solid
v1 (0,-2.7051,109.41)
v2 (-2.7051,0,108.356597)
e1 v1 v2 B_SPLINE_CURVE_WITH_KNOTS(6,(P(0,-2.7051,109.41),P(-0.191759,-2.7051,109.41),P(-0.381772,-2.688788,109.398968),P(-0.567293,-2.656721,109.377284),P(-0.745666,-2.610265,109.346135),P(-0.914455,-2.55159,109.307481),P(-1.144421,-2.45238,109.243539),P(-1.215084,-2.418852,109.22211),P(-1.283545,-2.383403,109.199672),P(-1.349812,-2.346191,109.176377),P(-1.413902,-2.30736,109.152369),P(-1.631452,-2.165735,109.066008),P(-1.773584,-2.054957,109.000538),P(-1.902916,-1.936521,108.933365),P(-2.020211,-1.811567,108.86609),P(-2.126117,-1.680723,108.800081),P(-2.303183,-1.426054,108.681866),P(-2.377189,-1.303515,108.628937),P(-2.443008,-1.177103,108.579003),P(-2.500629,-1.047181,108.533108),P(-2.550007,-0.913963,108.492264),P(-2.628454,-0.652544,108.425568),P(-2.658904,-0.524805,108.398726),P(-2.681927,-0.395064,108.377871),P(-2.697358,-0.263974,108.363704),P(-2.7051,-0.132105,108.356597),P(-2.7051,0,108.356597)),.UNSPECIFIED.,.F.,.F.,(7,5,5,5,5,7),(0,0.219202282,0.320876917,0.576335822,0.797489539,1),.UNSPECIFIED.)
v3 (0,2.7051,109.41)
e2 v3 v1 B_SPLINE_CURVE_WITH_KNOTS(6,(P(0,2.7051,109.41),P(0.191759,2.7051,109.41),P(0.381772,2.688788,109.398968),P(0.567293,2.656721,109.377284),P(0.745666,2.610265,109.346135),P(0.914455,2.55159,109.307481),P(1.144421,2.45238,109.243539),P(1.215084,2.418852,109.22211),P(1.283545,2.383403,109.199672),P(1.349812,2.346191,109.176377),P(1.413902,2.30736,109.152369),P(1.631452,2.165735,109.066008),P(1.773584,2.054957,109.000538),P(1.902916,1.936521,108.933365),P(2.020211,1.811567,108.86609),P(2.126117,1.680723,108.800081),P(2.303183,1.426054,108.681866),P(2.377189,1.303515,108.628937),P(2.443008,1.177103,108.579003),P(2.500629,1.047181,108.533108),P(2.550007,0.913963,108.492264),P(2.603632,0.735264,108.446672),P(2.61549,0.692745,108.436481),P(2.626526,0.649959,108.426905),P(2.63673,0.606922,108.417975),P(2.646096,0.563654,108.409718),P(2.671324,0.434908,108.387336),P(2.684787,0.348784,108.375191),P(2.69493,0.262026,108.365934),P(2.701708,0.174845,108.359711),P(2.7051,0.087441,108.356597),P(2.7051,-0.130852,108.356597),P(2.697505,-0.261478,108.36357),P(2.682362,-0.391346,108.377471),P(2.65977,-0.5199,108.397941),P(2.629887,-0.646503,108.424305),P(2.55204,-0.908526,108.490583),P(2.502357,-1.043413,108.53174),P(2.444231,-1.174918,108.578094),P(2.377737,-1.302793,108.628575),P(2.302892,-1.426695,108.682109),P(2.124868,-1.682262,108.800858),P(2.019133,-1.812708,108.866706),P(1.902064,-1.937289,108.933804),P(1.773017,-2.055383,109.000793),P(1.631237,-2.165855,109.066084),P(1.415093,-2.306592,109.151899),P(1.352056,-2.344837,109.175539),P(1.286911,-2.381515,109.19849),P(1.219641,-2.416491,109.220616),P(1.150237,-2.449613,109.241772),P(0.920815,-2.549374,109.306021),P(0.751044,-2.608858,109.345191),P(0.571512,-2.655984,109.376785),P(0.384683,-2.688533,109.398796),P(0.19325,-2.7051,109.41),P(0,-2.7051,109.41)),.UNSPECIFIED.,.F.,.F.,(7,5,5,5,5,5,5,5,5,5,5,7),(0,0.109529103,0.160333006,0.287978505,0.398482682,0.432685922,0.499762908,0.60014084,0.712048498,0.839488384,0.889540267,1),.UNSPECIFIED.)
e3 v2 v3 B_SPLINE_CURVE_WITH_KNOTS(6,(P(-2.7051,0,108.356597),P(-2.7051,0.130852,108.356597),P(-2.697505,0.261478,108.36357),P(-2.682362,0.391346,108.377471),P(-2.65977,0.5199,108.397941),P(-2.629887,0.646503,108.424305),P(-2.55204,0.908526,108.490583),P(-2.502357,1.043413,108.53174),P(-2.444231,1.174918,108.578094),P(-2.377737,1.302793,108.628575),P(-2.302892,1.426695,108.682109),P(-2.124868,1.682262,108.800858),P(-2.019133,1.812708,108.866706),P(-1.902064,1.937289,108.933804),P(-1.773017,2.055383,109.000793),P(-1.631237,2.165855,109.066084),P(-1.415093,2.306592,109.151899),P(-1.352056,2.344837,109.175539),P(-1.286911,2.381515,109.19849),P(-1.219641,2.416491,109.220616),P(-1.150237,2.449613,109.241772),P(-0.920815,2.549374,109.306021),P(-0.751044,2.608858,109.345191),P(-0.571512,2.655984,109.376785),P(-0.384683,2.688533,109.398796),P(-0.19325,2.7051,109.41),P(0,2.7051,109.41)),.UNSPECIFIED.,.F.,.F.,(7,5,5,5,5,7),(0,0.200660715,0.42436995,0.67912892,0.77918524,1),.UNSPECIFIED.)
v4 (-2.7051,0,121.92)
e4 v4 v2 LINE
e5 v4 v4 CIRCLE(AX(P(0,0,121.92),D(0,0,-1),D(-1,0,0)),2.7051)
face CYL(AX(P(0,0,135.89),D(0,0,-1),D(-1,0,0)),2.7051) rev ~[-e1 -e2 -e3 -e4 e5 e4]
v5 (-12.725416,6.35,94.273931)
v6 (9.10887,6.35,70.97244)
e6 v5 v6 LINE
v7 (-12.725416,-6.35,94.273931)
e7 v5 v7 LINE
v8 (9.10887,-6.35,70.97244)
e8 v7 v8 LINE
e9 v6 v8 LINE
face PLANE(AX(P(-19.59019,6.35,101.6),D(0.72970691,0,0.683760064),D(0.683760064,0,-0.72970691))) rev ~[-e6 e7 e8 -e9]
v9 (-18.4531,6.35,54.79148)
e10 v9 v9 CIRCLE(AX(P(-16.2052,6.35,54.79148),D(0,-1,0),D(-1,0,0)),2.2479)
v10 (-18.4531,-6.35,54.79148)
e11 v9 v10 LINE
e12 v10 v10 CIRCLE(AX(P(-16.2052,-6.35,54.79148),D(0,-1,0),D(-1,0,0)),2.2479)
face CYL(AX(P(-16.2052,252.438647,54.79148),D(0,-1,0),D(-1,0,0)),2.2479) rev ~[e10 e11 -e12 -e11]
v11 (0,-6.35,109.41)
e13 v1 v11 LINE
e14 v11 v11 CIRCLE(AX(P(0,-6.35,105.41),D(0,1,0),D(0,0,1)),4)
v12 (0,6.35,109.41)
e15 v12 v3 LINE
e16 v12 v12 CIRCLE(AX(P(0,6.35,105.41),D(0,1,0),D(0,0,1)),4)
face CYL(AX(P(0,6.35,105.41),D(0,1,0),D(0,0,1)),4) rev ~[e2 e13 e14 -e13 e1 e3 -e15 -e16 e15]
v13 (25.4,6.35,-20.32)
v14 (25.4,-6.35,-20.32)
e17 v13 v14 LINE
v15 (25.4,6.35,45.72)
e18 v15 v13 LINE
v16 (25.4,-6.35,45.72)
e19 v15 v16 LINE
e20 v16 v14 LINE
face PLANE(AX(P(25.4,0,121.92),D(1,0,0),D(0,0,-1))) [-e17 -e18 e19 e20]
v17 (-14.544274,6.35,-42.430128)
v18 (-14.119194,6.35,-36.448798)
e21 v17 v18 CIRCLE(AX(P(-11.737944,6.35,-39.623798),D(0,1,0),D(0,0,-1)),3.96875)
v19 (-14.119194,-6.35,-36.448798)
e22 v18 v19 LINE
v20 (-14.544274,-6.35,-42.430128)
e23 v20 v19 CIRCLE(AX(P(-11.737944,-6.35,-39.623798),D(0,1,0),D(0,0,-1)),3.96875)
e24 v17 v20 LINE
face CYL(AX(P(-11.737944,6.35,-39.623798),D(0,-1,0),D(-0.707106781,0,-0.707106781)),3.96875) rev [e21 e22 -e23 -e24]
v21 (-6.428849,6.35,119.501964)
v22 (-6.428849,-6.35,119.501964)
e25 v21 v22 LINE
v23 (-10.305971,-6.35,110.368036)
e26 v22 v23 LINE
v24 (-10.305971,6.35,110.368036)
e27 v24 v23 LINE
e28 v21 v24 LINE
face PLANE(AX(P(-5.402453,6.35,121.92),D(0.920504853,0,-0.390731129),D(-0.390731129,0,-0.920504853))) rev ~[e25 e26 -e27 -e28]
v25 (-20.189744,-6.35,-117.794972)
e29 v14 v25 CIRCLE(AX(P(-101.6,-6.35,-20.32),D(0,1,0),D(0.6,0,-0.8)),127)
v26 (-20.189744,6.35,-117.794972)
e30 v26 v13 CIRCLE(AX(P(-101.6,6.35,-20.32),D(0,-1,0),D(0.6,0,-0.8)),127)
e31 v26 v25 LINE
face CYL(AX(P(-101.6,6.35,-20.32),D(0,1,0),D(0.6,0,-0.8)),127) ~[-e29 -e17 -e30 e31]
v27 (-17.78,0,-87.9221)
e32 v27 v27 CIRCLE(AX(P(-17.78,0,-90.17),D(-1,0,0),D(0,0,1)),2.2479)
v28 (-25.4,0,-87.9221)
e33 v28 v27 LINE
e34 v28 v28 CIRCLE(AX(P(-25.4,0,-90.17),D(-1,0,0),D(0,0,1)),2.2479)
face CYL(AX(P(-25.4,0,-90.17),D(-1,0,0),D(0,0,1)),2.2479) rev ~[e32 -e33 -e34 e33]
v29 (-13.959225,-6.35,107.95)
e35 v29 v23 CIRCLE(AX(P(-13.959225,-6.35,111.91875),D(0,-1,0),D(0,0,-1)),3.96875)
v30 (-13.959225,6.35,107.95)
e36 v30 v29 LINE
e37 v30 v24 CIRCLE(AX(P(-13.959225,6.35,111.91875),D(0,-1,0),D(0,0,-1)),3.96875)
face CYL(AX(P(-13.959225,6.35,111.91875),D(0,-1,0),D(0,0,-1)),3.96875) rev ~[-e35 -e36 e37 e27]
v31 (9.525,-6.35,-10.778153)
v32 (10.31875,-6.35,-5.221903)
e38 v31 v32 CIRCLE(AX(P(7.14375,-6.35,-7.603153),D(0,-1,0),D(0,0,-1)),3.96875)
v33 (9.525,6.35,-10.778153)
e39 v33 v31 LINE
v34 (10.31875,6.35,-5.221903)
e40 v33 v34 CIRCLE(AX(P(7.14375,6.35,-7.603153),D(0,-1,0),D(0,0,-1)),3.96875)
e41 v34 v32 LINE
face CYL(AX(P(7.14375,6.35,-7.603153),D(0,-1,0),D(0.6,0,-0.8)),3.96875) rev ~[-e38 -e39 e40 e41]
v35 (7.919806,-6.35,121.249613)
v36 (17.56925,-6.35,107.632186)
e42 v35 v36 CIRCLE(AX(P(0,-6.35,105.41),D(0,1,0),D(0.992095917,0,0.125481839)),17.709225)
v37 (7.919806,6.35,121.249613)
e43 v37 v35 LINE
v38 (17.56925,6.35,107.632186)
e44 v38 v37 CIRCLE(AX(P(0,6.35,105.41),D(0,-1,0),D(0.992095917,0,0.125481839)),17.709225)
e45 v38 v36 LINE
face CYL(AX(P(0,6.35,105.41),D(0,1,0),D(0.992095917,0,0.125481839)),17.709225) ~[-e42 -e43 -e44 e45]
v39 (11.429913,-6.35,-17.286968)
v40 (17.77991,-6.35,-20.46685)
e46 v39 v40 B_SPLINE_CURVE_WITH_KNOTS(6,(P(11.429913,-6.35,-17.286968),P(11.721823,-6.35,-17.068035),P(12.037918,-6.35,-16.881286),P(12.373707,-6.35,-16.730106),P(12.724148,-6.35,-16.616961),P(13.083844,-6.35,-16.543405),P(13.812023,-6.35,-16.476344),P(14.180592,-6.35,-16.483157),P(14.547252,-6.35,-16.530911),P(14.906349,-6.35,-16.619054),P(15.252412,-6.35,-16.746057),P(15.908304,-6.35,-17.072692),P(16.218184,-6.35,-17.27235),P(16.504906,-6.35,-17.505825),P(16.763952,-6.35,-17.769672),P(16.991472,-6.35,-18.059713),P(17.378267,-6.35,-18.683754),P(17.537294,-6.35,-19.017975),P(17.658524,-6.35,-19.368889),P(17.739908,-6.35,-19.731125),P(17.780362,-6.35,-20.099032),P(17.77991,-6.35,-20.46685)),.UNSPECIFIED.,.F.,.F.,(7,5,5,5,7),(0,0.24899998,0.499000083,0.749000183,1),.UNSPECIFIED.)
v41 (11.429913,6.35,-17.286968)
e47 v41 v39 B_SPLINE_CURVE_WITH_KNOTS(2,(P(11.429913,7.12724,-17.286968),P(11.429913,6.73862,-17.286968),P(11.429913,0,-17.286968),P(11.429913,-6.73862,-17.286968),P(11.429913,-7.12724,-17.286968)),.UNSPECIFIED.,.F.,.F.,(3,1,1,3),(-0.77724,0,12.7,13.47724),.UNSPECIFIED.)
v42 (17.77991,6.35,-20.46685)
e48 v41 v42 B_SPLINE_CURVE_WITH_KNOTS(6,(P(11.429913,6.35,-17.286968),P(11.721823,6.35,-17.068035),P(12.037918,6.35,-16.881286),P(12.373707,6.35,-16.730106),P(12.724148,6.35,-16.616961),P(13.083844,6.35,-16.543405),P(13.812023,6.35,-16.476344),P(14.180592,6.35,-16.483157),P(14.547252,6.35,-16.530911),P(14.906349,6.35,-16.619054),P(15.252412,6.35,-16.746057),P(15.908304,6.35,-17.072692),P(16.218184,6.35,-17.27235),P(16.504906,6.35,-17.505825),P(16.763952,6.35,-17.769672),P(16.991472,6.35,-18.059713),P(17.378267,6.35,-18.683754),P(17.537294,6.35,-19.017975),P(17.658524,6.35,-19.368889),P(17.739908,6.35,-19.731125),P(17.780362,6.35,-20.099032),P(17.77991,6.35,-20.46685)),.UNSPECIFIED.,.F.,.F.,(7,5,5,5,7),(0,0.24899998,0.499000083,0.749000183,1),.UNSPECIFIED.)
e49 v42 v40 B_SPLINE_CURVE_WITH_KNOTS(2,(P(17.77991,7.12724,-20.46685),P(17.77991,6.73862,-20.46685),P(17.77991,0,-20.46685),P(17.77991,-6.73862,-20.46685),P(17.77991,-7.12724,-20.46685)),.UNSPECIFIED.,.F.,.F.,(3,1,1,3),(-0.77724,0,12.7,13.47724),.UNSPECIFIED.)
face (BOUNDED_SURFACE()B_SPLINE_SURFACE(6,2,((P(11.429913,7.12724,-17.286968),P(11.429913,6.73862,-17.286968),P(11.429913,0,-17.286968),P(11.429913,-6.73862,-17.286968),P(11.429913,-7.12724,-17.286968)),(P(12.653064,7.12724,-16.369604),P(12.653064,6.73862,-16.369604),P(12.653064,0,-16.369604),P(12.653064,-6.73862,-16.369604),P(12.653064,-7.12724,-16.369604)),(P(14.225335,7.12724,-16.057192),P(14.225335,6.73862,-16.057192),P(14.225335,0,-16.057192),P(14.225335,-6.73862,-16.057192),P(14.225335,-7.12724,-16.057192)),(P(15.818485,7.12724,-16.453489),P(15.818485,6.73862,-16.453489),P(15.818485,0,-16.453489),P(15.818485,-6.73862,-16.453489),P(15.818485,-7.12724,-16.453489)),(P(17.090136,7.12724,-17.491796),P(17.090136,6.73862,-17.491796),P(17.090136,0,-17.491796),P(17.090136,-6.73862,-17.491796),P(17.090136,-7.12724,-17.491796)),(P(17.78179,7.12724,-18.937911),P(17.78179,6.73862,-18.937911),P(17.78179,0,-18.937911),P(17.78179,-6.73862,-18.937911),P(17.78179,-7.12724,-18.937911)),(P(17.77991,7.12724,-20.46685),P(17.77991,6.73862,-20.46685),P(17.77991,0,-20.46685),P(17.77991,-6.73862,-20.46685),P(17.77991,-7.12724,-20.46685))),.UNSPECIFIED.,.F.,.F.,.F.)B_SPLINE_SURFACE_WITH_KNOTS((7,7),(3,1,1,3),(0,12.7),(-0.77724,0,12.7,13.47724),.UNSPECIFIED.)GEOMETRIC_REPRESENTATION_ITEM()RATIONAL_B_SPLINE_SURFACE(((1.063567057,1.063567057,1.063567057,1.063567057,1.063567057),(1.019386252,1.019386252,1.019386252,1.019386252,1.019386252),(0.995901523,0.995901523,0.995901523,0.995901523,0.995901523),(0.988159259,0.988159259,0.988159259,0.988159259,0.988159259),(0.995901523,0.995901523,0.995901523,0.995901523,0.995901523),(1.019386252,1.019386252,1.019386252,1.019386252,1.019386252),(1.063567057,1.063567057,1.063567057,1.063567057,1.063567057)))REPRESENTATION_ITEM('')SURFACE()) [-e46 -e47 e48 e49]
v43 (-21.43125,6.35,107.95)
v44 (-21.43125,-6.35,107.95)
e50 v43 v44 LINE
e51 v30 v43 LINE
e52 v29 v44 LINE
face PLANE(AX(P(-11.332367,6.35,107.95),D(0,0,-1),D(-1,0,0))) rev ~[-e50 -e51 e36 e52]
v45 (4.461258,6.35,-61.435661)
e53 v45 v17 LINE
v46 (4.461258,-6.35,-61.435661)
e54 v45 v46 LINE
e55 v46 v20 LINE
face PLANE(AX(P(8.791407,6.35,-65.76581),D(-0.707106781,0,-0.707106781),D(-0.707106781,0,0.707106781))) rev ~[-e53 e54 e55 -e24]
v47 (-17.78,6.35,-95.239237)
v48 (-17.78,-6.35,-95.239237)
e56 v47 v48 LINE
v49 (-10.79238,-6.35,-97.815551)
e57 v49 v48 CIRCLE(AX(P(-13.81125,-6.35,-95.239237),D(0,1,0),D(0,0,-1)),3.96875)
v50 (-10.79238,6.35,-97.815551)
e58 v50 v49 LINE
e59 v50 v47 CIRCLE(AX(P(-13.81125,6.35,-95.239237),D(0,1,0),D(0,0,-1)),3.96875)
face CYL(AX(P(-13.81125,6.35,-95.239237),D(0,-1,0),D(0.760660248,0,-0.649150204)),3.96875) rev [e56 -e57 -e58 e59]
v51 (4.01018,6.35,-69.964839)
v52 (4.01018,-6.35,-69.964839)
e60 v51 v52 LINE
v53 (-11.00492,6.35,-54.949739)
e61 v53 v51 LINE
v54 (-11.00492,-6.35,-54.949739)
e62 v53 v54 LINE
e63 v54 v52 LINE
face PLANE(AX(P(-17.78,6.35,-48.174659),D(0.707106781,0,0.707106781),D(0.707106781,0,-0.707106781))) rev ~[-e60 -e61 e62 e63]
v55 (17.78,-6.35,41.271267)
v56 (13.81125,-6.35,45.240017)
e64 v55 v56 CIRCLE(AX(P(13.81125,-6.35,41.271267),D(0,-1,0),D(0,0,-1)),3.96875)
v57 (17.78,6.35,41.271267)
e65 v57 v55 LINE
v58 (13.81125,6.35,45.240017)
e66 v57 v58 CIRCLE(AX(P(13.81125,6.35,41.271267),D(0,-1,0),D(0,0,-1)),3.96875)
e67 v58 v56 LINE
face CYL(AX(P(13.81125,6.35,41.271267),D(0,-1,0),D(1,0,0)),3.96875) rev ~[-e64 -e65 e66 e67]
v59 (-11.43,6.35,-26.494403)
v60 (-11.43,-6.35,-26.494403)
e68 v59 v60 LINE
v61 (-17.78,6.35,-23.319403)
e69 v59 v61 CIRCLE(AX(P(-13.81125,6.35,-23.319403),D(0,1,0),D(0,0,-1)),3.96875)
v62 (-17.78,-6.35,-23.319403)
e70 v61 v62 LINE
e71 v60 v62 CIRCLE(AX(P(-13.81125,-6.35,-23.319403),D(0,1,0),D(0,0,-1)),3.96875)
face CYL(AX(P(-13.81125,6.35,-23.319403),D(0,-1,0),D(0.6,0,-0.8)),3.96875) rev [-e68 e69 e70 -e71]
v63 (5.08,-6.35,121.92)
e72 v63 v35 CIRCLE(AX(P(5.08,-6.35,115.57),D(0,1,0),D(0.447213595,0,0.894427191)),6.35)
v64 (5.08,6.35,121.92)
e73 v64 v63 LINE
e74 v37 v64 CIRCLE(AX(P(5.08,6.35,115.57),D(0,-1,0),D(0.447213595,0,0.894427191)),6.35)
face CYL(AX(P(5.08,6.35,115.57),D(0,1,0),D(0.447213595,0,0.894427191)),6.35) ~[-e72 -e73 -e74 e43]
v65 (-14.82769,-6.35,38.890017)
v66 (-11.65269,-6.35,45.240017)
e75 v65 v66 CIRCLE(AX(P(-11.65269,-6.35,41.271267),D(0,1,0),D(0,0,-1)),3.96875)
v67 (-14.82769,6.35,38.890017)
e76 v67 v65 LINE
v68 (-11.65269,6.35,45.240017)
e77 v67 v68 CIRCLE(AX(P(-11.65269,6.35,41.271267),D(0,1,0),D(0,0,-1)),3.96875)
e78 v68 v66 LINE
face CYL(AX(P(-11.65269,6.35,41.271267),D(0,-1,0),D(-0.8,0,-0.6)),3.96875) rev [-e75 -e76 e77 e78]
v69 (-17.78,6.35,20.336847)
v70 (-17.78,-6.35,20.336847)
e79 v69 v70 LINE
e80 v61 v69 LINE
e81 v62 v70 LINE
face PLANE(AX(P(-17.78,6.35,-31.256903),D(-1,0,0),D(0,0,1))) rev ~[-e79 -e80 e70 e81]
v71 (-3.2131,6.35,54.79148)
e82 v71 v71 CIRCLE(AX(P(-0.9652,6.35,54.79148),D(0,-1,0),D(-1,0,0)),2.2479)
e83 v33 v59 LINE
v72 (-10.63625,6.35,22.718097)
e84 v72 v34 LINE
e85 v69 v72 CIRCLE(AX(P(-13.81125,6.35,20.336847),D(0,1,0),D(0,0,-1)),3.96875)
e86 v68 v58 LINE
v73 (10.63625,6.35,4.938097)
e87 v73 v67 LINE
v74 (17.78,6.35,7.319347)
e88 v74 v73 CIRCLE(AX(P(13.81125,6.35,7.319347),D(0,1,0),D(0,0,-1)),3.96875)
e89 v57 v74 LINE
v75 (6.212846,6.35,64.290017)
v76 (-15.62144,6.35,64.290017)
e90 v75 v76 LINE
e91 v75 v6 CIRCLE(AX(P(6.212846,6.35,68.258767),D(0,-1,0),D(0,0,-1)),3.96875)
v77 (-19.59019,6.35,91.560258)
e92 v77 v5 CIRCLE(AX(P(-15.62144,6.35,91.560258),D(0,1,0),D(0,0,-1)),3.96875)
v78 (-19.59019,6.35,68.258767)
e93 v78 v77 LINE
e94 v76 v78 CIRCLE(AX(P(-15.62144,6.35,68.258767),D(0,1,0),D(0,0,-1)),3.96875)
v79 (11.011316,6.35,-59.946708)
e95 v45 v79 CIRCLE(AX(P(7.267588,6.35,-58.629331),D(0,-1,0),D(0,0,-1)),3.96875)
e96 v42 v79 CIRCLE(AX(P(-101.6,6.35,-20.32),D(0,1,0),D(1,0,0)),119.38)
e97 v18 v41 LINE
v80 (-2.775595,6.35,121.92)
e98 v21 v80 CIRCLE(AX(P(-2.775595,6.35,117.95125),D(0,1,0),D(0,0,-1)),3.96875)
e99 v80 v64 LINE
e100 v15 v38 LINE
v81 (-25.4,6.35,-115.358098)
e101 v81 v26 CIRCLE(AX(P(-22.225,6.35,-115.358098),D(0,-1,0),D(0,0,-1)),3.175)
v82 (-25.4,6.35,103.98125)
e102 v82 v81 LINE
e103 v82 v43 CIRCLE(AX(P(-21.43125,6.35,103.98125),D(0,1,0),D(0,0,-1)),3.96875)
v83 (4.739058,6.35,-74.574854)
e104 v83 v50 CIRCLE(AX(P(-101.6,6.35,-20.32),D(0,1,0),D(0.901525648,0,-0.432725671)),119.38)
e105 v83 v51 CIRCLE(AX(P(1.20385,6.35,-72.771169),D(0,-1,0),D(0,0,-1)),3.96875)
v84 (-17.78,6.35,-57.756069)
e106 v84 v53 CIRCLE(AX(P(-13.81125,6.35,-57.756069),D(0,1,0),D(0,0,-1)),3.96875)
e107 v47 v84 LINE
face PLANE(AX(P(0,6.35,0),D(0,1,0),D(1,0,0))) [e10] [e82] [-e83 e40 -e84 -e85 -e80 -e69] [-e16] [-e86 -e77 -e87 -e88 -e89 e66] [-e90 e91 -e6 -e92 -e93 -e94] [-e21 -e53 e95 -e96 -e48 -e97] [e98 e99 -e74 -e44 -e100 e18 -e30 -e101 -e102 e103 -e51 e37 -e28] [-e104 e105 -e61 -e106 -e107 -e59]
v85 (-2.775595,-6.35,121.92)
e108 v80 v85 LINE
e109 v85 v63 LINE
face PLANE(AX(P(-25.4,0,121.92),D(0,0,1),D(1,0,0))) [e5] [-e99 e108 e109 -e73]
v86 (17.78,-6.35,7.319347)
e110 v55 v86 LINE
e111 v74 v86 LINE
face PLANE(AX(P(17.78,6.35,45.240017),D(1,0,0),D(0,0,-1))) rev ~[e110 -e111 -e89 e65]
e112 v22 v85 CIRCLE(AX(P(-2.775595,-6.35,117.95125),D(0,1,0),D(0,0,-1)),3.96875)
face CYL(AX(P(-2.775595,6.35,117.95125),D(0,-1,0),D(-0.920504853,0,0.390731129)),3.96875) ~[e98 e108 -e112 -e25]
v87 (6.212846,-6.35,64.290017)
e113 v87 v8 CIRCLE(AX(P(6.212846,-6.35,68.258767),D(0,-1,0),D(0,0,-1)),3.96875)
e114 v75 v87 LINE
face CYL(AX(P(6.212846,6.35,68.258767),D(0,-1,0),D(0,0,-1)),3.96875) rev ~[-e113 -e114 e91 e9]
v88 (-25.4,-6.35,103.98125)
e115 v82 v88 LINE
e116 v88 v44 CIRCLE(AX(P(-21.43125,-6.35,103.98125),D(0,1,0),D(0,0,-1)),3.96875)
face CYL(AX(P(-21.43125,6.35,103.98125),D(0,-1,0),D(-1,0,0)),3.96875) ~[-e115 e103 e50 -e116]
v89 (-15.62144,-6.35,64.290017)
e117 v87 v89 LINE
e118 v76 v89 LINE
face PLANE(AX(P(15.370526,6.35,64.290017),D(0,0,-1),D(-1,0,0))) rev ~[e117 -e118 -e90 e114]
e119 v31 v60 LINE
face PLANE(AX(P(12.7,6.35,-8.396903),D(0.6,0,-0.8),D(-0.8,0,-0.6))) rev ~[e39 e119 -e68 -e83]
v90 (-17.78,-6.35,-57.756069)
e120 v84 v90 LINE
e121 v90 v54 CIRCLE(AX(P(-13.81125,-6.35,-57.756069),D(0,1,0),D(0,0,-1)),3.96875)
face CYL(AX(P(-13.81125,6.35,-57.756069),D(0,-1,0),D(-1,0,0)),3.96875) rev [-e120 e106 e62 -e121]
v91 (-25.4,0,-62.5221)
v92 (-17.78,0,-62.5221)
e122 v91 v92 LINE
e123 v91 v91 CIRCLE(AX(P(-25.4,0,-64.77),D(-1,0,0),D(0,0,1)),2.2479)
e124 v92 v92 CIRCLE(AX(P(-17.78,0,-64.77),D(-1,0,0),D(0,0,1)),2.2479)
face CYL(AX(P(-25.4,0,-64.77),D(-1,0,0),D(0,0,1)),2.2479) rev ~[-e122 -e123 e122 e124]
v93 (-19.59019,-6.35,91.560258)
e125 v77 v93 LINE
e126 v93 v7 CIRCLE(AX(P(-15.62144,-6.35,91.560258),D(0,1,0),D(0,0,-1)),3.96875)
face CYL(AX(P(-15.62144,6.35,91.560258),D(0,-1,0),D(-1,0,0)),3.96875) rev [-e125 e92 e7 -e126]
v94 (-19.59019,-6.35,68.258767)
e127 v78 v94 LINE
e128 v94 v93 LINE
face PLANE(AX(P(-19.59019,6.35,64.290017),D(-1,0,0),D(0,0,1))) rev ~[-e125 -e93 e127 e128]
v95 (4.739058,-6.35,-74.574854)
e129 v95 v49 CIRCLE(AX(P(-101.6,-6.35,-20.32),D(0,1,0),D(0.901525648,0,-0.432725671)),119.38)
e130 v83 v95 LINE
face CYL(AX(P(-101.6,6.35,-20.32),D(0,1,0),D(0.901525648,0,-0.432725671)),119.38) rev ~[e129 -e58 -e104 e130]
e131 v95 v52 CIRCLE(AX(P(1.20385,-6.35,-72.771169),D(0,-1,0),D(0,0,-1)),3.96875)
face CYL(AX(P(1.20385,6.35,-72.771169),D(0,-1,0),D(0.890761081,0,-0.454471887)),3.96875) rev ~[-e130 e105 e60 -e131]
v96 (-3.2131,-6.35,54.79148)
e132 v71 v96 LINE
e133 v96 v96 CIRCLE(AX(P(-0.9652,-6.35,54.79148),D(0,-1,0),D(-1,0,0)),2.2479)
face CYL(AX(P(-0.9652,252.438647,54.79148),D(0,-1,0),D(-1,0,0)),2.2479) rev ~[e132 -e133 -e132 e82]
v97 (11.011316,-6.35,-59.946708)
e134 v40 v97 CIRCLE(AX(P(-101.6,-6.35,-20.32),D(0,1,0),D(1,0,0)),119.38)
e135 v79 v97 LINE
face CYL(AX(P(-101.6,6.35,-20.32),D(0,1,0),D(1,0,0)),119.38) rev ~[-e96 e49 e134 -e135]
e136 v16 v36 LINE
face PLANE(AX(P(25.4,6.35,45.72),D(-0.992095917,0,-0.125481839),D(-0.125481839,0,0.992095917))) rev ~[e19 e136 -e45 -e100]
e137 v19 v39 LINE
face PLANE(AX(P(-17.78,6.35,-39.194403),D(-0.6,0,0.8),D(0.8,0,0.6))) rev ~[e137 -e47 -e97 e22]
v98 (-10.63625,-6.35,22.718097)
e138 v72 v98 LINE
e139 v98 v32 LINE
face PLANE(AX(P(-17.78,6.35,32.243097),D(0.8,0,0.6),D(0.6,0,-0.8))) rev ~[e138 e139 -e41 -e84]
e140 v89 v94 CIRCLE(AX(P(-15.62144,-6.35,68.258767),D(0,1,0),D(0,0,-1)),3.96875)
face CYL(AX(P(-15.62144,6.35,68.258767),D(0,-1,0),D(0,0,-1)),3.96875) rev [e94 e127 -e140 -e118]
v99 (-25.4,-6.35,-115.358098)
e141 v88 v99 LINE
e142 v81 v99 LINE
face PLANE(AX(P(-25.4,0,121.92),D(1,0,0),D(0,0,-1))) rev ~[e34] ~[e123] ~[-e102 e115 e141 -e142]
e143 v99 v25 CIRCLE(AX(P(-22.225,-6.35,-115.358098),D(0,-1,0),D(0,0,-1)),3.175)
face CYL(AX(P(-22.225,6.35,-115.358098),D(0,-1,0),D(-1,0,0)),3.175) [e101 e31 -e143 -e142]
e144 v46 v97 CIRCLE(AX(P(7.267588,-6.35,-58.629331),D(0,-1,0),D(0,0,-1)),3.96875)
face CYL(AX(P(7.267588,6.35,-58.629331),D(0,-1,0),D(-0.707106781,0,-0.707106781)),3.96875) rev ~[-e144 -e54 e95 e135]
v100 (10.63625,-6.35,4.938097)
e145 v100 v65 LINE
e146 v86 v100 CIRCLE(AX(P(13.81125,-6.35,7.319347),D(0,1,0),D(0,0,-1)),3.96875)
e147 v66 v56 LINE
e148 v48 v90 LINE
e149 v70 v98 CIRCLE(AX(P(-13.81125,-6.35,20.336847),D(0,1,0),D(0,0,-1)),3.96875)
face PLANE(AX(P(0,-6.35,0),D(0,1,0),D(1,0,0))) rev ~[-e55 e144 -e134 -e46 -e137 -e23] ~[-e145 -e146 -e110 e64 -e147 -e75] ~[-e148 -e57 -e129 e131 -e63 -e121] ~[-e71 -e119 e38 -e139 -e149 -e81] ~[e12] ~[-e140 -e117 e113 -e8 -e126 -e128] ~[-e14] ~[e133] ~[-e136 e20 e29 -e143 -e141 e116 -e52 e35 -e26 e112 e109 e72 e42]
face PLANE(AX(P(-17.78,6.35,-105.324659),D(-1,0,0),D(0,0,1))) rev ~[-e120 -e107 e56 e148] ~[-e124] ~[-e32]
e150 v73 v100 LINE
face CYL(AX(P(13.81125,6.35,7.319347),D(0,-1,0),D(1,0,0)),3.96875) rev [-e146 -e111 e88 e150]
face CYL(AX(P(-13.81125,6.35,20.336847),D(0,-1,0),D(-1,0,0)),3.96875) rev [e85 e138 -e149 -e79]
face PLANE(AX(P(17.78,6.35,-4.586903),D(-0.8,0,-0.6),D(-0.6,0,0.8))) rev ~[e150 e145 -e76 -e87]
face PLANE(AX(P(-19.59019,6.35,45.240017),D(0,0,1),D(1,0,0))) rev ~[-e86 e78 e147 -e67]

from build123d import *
from OCP.BRepFilletAPI import BRepFilletAPI_MakeFillet

# Parameters (mm, degrees)
SKETCH1_W                      = 50.8
SKETCH1_H                      = 243.84
BOSS_EXTRUDE1_DEPTH            = 6.35
SKETCH2_R                      = 4
PIVOT_POINT_DEPTH              = 126.183610748
MAIN_SHAPE_DEPTH               = 126.183610748
OPTIMIZING_WEIGHT_CUTOUT_DEPTH = 126.183610748
F_8_CLEARANCE_HOLE1_REACH      = 134.233
F_8_CLEARANCE_HOLE1_BORE_R     = 2.2479
F_1_4_28_TAPPED_HOLE1_D        = 5.4102
F_1_4_28_TAPPED_HOLE1_DEPTH    = 13.97
F_1_4_28_TAPPED_HOLE1_TIP      = 1.625388061
FILLET1_R1                     = 3.96875
FILLET1_R2                     = 3.175
F_8_CLEARANCE_HOLE2_D          = 4.4958


with BuildPart() as part:
    # Sketch1 → Boss-Extrude1 (new, symmetric)
    with BuildSketch(Plane(origin=(0, 0, 0), x_dir=(1, 0, 0), z_dir=(0, 1, 0))):
        Rectangle(SKETCH1_W, SKETCH1_H)
    extrude(amount=BOSS_EXTRUDE1_DEPTH, both=True)

    # Sketch2 → Pivot Point (cut, through all)
    with BuildSketch(Plane(origin=(0, 6.35, 0), x_dir=(1, 0, 0), z_dir=(0, 1, 0))):
        with Locations(Location((0, -105.41, 0), (0, 0, 270))):
            Circle(SKETCH2_R)
    extrude(amount=-PIVOT_POINT_DEPTH, mode=Mode.SUBTRACT)

    # Sketch3 → Main Shape (cut, through all)
    with BuildSketch(Plane(origin=(0, 6.35, 0), x_dir=(1, 0, 0), z_dir=(0, 1, 0))):
        Polygon((-11.332366666, -107.95), (-25.4, -107.95), (-25.4, -121.92), (-5.402453483, -121.92), align=None)
        with BuildLine():
            Line((25.4, 121.92), (-25.4, 121.92))
            ThreePointArc((-25.4, 121.92), (11.992253257, 77.116126628), (25.4, 20.32))
            Line((25.4, 20.32), (25.4, 121.92))
        make_face()
        with BuildLine():
            Line((25.4, -121.92), (25.4, -45.72))
            Line((25.4, -45.72), (17.569250135, -107.632186158))
            ThreePointArc((17.569250135, -107.632186158), (14.449275969, -115.648900605), (7.919806331, -121.249612663))
            ThreePointArc((7.919806331, -121.249612663), (6.538931045, -121.750131083), (5.08, -121.92))
            Line((5.08, -121.92), (25.4, -121.92))
        make_face()
    extrude(amount=-MAIN_SHAPE_DEPTH, mode=Mode.SUBTRACT)

    # Sketch4 → Optimizing Weight Cutout (cut, through all)
    with BuildSketch(Plane(origin=(0, 6.35, 0), x_dir=(1, 0, 0), z_dir=(0, 1, 0))):
        with BuildLine():
            ThreePointArc((6.024131859, 71.978790555), (-4.436732062, 89.680534626), (-17.78, 105.324658696))
            Line((-17.78, 105.324658696), (-17.78, 48.174658696))
            Line((-17.78, 48.174658696), (6.024131859, 71.978790555))
        make_face()
        with BuildLine():
            Line((8.791407169, 65.765809744), (-17.78, 39.194402575))
            Line((-17.78, 39.194402575), (17.78, 12.524402575))
            Line((17.78, 12.524402575), (17.78, 20.32))
            ThreePointArc((17.78, 20.32), (15.511294476, 43.483097938), (8.791407169, 65.765809744))
        make_face()
        Polygon((12.7, 8.396902575), (-17.78, 31.256902575), (-17.78, -32.243097425), align=None)
        Polygon((17.78, -45.240017282), (17.78, 4.586902575), (-19.590189893, -45.240017282), align=None)
        Polygon((15.370526289, -64.290017282), (-19.590189893, -64.290017282), (-19.590189893, -101.6), align=None)
    extrude(amount=-OPTIMIZING_WEIGHT_CUTOUT_DEPTH, mode=Mode.SUBTRACT)

    # #8 Clearance Hole1 bore → #8 Clearance Hole1 (cut, up to next)
    with BuildSketch(Plane.ZY.offset(25.4), mode=Mode.PRIVATE) as f_8_clearance_hole1_sk1:
        with Locations((-90.17, 0)):
            Circle(F_8_CLEARANCE_HOLE1_BORE_R)
    f_8_clearance_hole1_tool1 = extrude(f_8_clearance_hole1_sk1.sketch, amount=-F_8_CLEARANCE_HOLE1_REACH, mode=Mode.PRIVATE) & part.part
    # #8 Clearance Hole1 bore → #8 Clearance Hole1 (cut, up to next)
    with BuildSketch(Plane.ZY.offset(25.4), mode=Mode.PRIVATE) as f_8_clearance_hole1_sk2:
        with Locations((-64.77, 0)):
            Circle(F_8_CLEARANCE_HOLE1_BORE_R)
    f_8_clearance_hole1_tool2 = extrude(f_8_clearance_hole1_sk2.sketch, amount=-F_8_CLEARANCE_HOLE1_REACH, mode=Mode.PRIVATE) & part.part
    add(f_8_clearance_hole1_tool1.solids().sort_by_distance((-25.4, 0, -90.17))[0], mode=Mode.SUBTRACT)
    add(f_8_clearance_hole1_tool2.solids().sort_by_distance((-25.4, 0, -64.77))[0], mode=Mode.SUBTRACT)

    # 1/4-28 Tapped Hole1
    with Locations(Plane.XY.offset(121.92)):
        with Locations((0, 0)):
            Hole(F_1_4_28_TAPPED_HOLE1_D / 2, depth=F_1_4_28_TAPPED_HOLE1_DEPTH)
            with Locations((0, 0, -(F_1_4_28_TAPPED_HOLE1_DEPTH + F_1_4_28_TAPPED_HOLE1_TIP / 2))):  # 118° drill point
                Cone(0, F_1_4_28_TAPPED_HOLE1_D / 2, F_1_4_28_TAPPED_HOLE1_TIP, mode=Mode.SUBTRACT)

    # Fillet1: one fillet with a radius per group of edges: ONE call of the kernel's fillet builder (fillet() takes one radius for all edges)
    fillet1_edges_1 = [part.edges().sort_by_distance(p)[0] for p in [
        (-17.78, 0, -39.194402575),
        (17.78, 0, -12.524402575),
        (-17.78, 0, -31.256902575),
        (8.791407169, 0, -65.765809744),
        (6.024131859, 0, -71.978790555),
        (-17.78, 0, -48.174658696),
        (-17.78, 0, -105.324658696),
        (-5.402453483, 0, 121.92),
        (-25.4, 0, 107.95),
        (-11.332366666, 0, 107.95),
        (-17.78, 0, 32.243097425),
        (12.7, 0, -8.396902575),
        (-19.590189893, 0, 45.240017282),
        (17.78, 0, -4.586902575),
        (17.78, 0, 45.240017282),
        (-19.590189893, 0, 101.6),
        (-19.590189893, 0, 64.290017282),
        (15.370526289, 0, 64.290017282),
    ]]
    fillet1_edges_2 = [part.edges().sort_by_distance(p)[0] for p in [
        (-25.4, 0, -121.92),
    ]]
    fillet1 = BRepFilletAPI_MakeFillet(part.part.solid().wrapped)
    for e in fillet1_edges_1:
        fillet1.Add(FILLET1_R1, e.wrapped)
    for e in fillet1_edges_2:
        fillet1.Add(FILLET1_R2, e.wrapped)
    add(Compound.cast(fillet1.Shape()), mode=Mode.REPLACE)

    # #8 Clearance Hole2 (through all)
    with Locations(Plane(origin=(0, 6.35, 0), x_dir=(1, 0, 0), z_dir=(0, 1, 0))):
        with Locations((-16.2052, -54.79148033), (-0.9652, -54.79148033)):
            Hole(F_8_CLEARANCE_HOLE2_D / 2)


solid = part.part
